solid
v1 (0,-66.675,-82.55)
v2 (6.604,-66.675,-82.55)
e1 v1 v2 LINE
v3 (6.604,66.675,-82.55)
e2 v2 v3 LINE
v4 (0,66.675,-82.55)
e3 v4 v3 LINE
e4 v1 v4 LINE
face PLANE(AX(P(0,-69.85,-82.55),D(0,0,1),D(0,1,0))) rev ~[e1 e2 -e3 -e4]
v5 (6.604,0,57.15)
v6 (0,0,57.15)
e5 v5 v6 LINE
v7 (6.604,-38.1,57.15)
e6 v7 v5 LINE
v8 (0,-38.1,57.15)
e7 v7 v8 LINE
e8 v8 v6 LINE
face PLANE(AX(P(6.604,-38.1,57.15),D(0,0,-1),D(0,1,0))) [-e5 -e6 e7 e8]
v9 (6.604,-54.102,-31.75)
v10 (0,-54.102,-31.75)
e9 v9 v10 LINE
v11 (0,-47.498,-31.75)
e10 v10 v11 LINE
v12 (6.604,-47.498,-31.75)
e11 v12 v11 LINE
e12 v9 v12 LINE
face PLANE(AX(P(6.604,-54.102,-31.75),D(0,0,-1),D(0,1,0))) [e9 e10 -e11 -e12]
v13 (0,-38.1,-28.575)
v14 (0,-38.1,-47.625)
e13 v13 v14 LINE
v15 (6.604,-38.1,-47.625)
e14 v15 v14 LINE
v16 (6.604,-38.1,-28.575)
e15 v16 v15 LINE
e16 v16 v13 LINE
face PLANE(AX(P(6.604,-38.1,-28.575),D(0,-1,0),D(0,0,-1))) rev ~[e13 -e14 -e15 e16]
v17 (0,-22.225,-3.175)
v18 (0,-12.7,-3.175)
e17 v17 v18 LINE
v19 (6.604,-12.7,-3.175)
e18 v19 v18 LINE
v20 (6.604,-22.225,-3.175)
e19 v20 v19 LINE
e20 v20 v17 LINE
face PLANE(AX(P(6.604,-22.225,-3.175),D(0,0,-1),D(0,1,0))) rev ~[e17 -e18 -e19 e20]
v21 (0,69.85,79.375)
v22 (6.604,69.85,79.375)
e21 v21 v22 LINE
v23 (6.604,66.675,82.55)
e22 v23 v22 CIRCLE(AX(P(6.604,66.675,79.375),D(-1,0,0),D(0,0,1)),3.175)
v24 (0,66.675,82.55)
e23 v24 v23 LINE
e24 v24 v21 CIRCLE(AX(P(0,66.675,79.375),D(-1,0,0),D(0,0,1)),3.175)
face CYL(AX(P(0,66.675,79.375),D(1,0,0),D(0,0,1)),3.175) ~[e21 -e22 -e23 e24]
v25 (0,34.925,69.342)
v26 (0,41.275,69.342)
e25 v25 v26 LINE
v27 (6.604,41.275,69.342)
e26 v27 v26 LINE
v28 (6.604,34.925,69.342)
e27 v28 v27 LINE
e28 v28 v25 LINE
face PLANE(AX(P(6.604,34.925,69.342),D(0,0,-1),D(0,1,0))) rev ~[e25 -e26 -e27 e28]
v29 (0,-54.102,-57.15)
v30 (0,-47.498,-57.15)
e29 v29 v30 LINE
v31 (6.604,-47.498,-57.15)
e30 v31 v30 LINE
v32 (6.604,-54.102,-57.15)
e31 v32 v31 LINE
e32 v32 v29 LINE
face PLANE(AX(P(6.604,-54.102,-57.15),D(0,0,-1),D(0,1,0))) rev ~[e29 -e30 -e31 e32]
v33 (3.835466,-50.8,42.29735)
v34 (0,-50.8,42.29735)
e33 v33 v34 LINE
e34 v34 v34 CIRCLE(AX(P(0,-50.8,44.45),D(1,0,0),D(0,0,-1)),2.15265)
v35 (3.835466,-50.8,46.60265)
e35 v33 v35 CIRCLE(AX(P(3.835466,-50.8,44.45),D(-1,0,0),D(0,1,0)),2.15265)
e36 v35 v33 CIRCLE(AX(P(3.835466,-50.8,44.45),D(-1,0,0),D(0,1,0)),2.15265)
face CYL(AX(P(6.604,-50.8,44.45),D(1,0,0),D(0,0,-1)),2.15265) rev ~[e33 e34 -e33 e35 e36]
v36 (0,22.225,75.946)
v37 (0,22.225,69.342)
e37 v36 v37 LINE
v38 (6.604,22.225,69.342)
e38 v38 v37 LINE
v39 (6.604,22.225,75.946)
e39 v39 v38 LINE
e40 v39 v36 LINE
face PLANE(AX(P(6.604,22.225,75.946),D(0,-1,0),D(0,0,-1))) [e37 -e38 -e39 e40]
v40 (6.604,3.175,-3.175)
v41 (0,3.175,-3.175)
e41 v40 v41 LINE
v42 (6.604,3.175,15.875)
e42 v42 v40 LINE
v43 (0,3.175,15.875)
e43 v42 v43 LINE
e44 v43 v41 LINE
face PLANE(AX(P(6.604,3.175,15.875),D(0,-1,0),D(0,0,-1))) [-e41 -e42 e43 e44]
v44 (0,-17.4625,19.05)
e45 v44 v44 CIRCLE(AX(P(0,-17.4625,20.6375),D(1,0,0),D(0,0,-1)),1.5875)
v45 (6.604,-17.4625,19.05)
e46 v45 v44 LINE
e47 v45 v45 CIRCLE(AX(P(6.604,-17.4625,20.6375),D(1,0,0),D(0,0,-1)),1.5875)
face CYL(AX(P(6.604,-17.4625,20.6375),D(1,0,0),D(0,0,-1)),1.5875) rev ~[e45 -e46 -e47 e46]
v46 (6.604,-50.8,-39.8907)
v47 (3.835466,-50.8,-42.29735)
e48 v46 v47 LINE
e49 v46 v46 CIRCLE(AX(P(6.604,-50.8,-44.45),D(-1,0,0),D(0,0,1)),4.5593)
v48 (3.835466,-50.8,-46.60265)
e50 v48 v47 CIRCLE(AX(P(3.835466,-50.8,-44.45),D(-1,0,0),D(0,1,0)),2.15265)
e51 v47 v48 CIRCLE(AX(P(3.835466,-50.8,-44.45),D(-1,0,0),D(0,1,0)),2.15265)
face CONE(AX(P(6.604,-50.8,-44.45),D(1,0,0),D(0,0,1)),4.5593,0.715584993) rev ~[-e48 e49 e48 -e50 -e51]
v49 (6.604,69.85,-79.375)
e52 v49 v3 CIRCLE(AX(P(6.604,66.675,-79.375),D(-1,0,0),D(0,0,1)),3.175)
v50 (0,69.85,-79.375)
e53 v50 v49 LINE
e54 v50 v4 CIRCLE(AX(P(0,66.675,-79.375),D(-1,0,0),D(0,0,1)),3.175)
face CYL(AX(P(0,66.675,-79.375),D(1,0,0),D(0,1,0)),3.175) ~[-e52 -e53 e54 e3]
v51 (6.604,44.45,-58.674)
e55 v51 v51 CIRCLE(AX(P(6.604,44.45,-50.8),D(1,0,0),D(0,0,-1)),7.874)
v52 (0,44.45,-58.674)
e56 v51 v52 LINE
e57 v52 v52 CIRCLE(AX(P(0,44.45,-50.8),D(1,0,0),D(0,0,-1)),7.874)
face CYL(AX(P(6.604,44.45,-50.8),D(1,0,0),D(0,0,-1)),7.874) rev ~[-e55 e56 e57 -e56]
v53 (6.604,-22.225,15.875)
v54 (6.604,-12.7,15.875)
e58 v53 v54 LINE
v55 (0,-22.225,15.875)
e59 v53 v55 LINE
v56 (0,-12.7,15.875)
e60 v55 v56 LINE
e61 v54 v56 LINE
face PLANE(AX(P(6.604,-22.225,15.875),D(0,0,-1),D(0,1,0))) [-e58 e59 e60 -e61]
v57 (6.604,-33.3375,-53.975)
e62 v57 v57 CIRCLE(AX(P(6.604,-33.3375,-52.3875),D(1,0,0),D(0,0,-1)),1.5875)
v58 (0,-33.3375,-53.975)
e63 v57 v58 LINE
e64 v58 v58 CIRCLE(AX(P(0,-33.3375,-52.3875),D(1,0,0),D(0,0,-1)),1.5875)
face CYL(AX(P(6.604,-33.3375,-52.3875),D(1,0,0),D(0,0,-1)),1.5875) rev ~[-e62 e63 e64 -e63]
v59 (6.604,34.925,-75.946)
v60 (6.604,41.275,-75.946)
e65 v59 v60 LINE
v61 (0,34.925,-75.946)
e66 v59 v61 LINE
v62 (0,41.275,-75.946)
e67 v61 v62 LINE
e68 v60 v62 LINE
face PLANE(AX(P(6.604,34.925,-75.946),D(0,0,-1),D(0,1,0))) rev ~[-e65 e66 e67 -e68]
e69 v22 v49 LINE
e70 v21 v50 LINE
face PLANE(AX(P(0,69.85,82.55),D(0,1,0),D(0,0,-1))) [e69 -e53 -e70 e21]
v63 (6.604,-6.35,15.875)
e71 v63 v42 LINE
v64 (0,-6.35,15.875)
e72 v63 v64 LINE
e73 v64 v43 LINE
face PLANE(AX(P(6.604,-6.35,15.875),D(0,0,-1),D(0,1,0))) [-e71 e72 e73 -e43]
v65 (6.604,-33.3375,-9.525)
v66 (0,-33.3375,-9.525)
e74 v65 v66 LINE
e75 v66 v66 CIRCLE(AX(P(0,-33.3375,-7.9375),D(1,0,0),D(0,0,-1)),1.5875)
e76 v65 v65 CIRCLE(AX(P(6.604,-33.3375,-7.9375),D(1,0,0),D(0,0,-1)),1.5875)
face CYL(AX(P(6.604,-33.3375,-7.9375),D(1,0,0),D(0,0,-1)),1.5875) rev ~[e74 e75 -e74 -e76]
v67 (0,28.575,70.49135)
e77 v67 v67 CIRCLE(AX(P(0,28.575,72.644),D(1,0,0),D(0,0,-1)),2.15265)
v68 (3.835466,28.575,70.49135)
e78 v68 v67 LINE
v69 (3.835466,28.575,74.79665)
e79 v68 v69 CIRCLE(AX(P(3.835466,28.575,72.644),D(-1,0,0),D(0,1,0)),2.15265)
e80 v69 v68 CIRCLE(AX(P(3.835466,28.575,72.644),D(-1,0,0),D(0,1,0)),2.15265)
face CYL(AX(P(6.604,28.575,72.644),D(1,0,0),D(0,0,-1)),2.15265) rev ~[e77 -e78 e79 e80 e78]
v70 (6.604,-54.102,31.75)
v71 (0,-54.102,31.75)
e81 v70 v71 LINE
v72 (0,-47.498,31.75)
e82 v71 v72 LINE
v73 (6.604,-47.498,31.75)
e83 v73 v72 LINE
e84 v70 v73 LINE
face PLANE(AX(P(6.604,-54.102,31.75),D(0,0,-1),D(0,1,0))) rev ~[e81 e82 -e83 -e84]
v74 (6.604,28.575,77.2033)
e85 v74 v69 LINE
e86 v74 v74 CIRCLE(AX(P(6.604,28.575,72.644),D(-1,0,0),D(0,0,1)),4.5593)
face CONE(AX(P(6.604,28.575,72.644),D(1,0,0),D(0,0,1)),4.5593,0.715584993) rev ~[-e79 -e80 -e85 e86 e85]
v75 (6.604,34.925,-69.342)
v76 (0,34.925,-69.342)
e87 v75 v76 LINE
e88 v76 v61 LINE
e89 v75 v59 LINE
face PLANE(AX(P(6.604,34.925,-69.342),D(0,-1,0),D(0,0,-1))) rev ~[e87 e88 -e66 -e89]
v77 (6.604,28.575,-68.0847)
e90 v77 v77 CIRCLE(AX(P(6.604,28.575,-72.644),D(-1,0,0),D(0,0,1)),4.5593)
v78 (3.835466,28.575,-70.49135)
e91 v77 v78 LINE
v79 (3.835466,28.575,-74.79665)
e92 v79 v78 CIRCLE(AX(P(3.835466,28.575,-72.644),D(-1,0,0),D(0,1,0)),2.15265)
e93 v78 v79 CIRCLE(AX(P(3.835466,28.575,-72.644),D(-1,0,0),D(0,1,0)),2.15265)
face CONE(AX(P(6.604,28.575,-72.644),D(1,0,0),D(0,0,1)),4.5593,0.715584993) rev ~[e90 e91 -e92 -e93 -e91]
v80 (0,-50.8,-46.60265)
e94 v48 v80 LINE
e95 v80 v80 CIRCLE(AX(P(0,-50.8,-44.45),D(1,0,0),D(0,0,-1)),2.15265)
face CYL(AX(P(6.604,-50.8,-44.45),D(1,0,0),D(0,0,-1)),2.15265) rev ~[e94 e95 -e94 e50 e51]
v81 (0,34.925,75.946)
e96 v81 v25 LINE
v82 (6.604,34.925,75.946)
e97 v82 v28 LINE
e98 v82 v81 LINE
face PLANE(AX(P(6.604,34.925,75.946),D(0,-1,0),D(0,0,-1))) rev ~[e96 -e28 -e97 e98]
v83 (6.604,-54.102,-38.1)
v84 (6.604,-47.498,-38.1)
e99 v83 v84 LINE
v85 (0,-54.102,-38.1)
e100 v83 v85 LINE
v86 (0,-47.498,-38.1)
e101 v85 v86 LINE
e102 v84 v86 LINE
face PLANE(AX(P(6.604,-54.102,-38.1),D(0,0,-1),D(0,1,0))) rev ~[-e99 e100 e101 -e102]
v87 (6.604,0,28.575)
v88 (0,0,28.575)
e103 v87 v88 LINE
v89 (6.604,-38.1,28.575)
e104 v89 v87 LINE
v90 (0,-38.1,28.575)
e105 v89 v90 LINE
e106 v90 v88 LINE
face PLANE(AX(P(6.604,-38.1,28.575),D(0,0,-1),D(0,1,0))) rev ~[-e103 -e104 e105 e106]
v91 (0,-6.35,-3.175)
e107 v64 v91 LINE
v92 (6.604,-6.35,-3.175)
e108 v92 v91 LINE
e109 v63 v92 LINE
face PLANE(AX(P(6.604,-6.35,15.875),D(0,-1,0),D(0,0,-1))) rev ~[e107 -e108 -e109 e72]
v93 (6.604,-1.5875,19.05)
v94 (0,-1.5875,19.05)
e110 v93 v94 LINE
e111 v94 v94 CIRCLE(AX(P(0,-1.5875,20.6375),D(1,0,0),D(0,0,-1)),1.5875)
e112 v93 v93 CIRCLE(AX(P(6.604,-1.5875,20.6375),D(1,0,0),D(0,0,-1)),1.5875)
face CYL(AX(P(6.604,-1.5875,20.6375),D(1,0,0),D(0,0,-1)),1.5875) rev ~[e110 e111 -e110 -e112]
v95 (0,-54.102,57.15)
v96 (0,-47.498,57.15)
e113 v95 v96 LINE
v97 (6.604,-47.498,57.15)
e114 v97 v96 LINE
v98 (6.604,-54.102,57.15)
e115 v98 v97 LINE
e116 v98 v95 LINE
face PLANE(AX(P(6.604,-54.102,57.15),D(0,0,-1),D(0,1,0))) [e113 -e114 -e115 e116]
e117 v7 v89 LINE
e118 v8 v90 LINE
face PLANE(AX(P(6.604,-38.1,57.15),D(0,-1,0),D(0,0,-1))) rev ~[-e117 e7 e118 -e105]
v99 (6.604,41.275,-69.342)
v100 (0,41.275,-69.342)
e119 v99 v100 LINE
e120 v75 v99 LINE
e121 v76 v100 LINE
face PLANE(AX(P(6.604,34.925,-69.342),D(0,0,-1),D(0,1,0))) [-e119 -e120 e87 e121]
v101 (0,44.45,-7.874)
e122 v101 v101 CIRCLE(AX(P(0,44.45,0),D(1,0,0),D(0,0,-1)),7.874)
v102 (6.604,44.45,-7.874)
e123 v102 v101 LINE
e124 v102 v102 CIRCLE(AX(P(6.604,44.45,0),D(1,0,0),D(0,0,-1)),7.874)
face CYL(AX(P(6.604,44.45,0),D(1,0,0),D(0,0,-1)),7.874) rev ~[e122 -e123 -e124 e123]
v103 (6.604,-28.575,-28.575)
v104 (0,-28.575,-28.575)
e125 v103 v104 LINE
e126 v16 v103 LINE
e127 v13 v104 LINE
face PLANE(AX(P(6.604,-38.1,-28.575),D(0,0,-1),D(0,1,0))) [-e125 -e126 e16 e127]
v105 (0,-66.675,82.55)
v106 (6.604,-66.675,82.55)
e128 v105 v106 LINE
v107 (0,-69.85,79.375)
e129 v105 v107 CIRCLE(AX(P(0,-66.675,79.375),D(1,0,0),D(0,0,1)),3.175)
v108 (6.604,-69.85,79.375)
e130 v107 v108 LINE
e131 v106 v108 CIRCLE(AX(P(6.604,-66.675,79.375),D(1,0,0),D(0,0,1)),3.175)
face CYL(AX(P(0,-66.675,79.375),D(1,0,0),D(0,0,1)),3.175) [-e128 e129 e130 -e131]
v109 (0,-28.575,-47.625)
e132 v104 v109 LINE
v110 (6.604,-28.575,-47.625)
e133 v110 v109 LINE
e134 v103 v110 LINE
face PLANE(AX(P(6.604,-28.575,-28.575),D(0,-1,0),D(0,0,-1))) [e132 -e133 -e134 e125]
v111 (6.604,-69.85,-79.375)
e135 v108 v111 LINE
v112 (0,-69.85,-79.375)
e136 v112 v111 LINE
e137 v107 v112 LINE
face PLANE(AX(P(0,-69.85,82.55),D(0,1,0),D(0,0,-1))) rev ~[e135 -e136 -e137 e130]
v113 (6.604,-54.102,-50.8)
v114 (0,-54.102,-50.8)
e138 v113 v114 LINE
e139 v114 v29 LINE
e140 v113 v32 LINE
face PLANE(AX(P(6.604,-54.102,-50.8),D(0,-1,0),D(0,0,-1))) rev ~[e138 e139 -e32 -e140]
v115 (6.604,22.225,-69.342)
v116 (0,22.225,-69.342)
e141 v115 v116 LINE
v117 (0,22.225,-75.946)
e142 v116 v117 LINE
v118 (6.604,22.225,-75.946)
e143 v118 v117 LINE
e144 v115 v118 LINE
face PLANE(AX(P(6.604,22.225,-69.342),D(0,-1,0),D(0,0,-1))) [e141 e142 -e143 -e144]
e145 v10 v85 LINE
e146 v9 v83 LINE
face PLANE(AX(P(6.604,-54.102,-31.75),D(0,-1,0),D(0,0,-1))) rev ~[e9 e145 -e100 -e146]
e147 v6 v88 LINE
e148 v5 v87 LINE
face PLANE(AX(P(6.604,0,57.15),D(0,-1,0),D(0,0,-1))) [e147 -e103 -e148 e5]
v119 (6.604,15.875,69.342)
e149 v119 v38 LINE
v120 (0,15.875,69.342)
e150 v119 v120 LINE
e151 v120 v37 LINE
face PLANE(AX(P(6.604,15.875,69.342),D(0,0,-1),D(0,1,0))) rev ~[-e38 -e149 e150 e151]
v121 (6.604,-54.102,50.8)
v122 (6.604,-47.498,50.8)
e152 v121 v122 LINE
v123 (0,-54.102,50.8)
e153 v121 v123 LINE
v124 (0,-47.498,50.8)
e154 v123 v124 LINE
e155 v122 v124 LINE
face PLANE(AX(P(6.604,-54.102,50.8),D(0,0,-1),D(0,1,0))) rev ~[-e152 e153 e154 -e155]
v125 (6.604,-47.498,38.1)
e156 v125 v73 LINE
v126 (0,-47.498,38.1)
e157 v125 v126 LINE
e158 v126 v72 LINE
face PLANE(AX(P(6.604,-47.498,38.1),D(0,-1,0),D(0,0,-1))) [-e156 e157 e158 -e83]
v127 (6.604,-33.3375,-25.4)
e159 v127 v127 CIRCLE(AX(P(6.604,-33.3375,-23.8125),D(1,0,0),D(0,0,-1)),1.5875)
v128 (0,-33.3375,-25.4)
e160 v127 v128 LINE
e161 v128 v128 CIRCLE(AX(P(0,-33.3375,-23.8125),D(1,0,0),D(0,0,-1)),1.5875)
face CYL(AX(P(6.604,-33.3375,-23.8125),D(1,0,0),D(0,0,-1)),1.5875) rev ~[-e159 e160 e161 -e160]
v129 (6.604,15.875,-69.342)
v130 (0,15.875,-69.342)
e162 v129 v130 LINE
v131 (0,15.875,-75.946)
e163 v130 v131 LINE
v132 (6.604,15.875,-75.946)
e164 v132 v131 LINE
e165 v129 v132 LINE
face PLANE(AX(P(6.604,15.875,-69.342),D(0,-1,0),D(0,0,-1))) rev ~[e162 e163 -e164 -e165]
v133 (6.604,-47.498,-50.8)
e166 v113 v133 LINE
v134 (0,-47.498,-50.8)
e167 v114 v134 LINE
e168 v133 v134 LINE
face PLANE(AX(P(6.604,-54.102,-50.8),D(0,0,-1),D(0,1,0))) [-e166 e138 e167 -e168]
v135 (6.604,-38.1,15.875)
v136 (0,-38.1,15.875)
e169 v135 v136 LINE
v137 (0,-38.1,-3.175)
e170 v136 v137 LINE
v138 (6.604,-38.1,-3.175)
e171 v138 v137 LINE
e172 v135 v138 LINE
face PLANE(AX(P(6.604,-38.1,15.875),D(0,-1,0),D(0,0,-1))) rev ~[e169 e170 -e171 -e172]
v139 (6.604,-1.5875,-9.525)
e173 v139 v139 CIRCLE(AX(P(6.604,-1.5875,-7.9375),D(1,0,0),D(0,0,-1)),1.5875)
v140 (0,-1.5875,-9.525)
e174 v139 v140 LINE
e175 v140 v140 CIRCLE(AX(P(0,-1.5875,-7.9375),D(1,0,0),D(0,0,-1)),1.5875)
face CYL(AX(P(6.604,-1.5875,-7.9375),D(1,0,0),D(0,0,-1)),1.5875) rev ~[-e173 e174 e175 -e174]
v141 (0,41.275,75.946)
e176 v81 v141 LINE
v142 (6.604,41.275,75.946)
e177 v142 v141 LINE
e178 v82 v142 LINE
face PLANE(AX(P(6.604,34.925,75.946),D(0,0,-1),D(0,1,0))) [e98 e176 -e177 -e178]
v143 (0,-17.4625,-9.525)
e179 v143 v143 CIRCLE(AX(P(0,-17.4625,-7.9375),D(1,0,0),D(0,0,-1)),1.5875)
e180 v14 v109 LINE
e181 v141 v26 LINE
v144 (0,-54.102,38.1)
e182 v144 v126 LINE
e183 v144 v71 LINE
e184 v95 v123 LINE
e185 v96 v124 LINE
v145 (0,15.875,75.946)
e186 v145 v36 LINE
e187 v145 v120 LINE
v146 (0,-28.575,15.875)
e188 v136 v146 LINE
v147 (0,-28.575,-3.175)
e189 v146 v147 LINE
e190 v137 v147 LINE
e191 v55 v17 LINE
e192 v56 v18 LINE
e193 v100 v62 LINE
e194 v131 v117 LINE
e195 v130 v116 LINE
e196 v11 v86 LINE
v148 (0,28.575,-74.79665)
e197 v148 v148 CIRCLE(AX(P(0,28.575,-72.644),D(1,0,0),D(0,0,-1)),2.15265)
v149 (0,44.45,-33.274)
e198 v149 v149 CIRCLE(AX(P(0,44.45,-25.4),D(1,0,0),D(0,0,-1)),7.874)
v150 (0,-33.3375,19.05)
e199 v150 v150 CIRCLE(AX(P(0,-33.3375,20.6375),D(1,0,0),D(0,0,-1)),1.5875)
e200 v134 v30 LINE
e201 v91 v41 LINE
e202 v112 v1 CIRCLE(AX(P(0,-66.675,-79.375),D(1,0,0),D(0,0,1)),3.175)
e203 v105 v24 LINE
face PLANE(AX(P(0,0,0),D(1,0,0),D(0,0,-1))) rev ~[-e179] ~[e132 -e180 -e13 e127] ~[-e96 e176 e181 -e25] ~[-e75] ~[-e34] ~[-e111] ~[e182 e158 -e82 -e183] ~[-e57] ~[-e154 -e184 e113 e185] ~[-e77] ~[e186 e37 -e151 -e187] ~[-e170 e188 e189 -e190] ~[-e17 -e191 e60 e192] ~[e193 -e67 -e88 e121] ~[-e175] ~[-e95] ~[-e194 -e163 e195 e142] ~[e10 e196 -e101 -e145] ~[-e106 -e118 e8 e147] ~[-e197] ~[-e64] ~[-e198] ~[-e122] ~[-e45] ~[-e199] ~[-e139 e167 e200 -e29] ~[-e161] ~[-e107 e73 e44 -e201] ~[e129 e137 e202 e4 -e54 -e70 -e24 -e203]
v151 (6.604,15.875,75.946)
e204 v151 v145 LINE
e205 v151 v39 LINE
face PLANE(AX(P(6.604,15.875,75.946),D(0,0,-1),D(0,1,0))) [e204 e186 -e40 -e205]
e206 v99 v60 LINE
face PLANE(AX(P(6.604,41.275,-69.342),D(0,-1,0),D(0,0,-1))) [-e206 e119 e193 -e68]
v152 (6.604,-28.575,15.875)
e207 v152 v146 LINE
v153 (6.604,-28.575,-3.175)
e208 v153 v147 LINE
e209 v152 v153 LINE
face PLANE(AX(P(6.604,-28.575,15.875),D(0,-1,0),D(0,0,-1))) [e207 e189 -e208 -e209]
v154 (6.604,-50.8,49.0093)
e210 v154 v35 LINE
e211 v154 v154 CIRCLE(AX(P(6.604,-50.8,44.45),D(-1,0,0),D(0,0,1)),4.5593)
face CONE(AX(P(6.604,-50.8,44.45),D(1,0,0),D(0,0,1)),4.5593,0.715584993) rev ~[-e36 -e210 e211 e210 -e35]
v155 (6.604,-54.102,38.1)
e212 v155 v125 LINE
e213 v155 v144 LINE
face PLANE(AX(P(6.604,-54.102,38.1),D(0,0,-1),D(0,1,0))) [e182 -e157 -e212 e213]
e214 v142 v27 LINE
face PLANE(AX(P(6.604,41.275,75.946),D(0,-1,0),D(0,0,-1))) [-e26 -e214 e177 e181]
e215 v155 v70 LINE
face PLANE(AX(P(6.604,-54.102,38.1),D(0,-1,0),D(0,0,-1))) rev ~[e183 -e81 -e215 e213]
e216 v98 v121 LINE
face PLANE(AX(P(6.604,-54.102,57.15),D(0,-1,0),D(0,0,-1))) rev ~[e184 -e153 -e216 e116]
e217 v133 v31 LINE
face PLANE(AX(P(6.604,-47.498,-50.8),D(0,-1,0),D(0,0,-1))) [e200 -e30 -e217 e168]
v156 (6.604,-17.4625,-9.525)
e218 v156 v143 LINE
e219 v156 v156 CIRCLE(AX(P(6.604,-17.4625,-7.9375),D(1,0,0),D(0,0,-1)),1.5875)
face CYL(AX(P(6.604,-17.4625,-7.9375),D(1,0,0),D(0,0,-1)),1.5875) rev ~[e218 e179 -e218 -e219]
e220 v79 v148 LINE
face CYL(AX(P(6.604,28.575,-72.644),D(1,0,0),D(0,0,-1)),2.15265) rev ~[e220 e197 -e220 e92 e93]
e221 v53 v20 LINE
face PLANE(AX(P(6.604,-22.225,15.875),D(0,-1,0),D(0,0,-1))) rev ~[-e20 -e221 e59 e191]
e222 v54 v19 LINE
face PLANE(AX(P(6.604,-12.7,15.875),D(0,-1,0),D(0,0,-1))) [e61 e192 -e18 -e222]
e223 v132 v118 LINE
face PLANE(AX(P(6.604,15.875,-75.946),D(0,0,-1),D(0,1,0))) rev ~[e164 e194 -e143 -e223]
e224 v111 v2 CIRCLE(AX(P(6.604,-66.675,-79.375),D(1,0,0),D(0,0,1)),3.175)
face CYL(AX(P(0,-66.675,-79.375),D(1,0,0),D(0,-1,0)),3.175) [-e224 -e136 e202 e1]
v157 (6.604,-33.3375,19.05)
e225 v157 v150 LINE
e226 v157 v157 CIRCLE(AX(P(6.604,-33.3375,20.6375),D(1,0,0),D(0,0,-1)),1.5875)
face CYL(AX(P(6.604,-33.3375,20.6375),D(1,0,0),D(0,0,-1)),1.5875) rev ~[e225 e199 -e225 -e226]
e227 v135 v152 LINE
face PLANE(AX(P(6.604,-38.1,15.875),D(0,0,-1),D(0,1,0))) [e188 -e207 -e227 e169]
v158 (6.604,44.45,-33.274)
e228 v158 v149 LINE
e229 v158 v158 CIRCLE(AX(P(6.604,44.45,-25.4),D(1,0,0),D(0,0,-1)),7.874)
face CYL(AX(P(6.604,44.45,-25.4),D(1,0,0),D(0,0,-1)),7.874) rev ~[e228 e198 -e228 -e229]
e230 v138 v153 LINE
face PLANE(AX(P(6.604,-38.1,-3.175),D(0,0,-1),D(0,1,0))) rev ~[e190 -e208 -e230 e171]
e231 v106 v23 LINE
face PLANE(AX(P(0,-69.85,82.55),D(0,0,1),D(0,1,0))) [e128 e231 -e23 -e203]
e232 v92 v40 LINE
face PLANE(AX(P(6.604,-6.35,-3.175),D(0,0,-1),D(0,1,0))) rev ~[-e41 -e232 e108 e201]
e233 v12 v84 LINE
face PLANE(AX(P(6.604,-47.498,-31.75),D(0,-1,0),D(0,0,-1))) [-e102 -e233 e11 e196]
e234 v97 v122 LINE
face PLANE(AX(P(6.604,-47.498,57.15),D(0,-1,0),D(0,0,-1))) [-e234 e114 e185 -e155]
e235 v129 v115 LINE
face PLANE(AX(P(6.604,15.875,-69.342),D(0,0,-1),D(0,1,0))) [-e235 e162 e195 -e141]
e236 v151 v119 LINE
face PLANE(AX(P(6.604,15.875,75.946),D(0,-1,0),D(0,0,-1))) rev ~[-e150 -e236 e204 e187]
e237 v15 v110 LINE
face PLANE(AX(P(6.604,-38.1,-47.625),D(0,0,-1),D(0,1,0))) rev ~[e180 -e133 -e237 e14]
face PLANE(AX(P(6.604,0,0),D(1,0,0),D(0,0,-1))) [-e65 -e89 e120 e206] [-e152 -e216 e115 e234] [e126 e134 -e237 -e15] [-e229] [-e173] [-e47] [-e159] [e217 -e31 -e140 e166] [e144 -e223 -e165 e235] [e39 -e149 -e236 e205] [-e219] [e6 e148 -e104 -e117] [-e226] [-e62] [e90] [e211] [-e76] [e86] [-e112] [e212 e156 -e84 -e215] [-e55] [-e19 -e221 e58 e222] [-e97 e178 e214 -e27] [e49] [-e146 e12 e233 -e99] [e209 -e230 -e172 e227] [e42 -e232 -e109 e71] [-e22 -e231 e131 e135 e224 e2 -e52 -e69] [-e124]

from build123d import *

# Parameters (mm, degrees)
SKETCH1_W                                         = 165.1
SKETCH1_H                                         = 139.7
BOSS_EXTRUDE1_DEPTH                               = 6.604
SKETCH2_R                                         = 7.874
SKETCH2_W                                         = 28.575
SKETCH2_H                                         = 38.1
CUT_EXTRUDE1_DEPTH                                = 7.604
SKETCH3_R                                         = 2.15265
SKETCH3_W                                         = 6.35
SKETCH3_H                                         = 6.604
CUT_EXTRUDE2_DEPTH                                = 7.604
SKETCH4_R                                         = 1.5875
SKETCH4_W                                         = 19.05
SKETCH4_H                                         = 9.525
CUT_EXTRUDE3_DEPTH                                = 7.604
LPATTERN1_COUNT                                   = 3
LPATTERN1_PITCH                                   = 15.875
FILLET1_R                                         = 3.175
SKETCH5_R                                         = 2.15265
SKETCH5_W                                         = 6.604
SKETCH5_H                                         = 6.35
CUT_EXTRUDE4_DEPTH                                = 7.604
CSK_FOR_8_FLAT_HEAD_SOCKET_CAP_SCREW1_D           = 4.3053
CSK_FOR_8_FLAT_HEAD_SOCKET_CAP_SCREW1_CSINK_D     = 9.1186
CSK_FOR_8_FLAT_HEAD_SOCKET_CAP_SCREW1_CSINK_ANGLE = 82
LPATTERN2_COUNT                                   = 2
LPATTERN2_PITCH                                   = 44.45


with BuildPart() as part:
    # Sketch1 → Boss-Extrude1 (new body)
    with BuildSketch(Plane(origin=(0, 0, 0), x_dir=(0, 0, -1), z_dir=(1, 0, 0))):
        Rectangle(SKETCH1_W, SKETCH1_H)
    extrude(amount=BOSS_EXTRUDE1_DEPTH)

    # Sketch2 → Cut-Extrude1 (cut, through all)
    with BuildSketch(Plane(origin=(6.604, 0, 0), x_dir=(0, 0, -1), z_dir=(1, 0, 0))):
        with Locations((50.8, 44.45)):
            Circle(SKETCH2_R)
        with Locations((25.4, 44.45)):
            Circle(SKETCH2_R)
        with Locations((0, 44.45)):
            Circle(SKETCH2_R)
        with Locations((-42.8625, -19.05)):
            Rectangle(SKETCH2_W, SKETCH2_H)
    extrude(amount=-CUT_EXTRUDE1_DEPTH, mode=Mode.SUBTRACT)

    # Sketch3 → Cut-Extrude2 (cut, through all)
    with BuildSketch(Plane(origin=(6.604, 0, 0), x_dir=(0, 0, -1), z_dir=(1, 0, 0))):
        with Locations((-44.45, -50.8)):
            Circle(SKETCH3_R)
        with Locations((44.45, -50.8)):
            Circle(SKETCH3_R)
        with Locations((-34.925, -50.8)):
            Rectangle(SKETCH3_W, SKETCH3_H)
        with Locations((-53.975, -50.8)):
            Rectangle(SKETCH3_W, SKETCH3_H)
        with Locations((53.975, -50.8)):
            Rectangle(SKETCH3_W, SKETCH3_H)
        with Locations((34.925, -50.8)):
            Rectangle(SKETCH3_W, SKETCH3_H)
    extrude(amount=-CUT_EXTRUDE2_DEPTH, mode=Mode.SUBTRACT)

    # Sketch4 → Cut-Extrude3 (cut, through all)
    with BuildSketch(Plane(origin=(6.604, 0, 0), x_dir=(0, 0, -1), z_dir=(1, 0, 0))):
        with Locations((-20.6375, -33.3375)):
            Circle(SKETCH4_R)
        with Locations((7.9375, -33.3375)):
            Circle(SKETCH4_R)
        with Locations((-6.35, -33.3375)):
            Rectangle(SKETCH4_W, SKETCH4_H)
    cut_extrude3 = extrude(amount=-CUT_EXTRUDE3_DEPTH, mode=Mode.SUBTRACT)

    # LPattern1: Cut-Extrude3 ×3
    with Locations(*[(0, i * LPATTERN1_PITCH, 0) for i in range(1, LPATTERN1_COUNT)]):
        add(cut_extrude3, mode=Mode.SUBTRACT)

    # Fillet1
    fillet1_edges = [part.edges().sort_by_distance(p)[0] for p in [
        (3.302, 69.85, 82.55),
        (3.302, 69.85, -82.55),
        (3.302, -69.85, -82.55),
        (3.302, -69.85, 82.55),
    ]]
    fillet(fillet1_edges, radius=FILLET1_R)

    # Sketch5 → Cut-Extrude4 (cut, through all)
    with BuildSketch(Plane(origin=(6.604, 0, 0), x_dir=(0, 0, -1), z_dir=(1, 0, 0))):
        with Locations((72.644, 28.575)):
            Circle(SKETCH5_R)
        with Locations((-72.644, 28.575)):
            Circle(SKETCH5_R)
        with Locations((72.644, 19.05)):
            Rectangle(SKETCH5_W, SKETCH5_H)
        with Locations((72.644, 38.1)):
            Rectangle(SKETCH5_W, SKETCH5_H)
        with Locations((-72.644, 38.1)):
            Rectangle(SKETCH5_W, SKETCH5_H)
        with Locations((-72.644, 19.05)):
            Rectangle(SKETCH5_W, SKETCH5_H)
    extrude(amount=-CUT_EXTRUDE4_DEPTH, mode=Mode.SUBTRACT)

    # CSK for #8 Flat Head Socket Cap Screw1 (through all)
    with Locations(Plane(origin=(6.604, 0, 0), x_dir=(0, 0, -1), z_dir=(1, 0, 0))):
        with Locations((-72.644, 28.575), (-44.45, -50.8), (44.45, -50.8), (72.644, 28.575)):
            CounterSinkHole(CSK_FOR_8_FLAT_HEAD_SOCKET_CAP_SCREW1_D / 2, CSK_FOR_8_FLAT_HEAD_SOCKET_CAP_SCREW1_CSINK_D / 2, counter_sink_angle=CSK_FOR_8_FLAT_HEAD_SOCKET_CAP_SCREW1_CSINK_ANGLE)

    # LPattern2: Cut-Extrude3 ×2
    with Locations(*[(0, 0, -i * LPATTERN2_PITCH) for i in range(1, LPATTERN2_COUNT)]):
        add(cut_extrude3, mode=Mode.SUBTRACT)


solid = part.part
